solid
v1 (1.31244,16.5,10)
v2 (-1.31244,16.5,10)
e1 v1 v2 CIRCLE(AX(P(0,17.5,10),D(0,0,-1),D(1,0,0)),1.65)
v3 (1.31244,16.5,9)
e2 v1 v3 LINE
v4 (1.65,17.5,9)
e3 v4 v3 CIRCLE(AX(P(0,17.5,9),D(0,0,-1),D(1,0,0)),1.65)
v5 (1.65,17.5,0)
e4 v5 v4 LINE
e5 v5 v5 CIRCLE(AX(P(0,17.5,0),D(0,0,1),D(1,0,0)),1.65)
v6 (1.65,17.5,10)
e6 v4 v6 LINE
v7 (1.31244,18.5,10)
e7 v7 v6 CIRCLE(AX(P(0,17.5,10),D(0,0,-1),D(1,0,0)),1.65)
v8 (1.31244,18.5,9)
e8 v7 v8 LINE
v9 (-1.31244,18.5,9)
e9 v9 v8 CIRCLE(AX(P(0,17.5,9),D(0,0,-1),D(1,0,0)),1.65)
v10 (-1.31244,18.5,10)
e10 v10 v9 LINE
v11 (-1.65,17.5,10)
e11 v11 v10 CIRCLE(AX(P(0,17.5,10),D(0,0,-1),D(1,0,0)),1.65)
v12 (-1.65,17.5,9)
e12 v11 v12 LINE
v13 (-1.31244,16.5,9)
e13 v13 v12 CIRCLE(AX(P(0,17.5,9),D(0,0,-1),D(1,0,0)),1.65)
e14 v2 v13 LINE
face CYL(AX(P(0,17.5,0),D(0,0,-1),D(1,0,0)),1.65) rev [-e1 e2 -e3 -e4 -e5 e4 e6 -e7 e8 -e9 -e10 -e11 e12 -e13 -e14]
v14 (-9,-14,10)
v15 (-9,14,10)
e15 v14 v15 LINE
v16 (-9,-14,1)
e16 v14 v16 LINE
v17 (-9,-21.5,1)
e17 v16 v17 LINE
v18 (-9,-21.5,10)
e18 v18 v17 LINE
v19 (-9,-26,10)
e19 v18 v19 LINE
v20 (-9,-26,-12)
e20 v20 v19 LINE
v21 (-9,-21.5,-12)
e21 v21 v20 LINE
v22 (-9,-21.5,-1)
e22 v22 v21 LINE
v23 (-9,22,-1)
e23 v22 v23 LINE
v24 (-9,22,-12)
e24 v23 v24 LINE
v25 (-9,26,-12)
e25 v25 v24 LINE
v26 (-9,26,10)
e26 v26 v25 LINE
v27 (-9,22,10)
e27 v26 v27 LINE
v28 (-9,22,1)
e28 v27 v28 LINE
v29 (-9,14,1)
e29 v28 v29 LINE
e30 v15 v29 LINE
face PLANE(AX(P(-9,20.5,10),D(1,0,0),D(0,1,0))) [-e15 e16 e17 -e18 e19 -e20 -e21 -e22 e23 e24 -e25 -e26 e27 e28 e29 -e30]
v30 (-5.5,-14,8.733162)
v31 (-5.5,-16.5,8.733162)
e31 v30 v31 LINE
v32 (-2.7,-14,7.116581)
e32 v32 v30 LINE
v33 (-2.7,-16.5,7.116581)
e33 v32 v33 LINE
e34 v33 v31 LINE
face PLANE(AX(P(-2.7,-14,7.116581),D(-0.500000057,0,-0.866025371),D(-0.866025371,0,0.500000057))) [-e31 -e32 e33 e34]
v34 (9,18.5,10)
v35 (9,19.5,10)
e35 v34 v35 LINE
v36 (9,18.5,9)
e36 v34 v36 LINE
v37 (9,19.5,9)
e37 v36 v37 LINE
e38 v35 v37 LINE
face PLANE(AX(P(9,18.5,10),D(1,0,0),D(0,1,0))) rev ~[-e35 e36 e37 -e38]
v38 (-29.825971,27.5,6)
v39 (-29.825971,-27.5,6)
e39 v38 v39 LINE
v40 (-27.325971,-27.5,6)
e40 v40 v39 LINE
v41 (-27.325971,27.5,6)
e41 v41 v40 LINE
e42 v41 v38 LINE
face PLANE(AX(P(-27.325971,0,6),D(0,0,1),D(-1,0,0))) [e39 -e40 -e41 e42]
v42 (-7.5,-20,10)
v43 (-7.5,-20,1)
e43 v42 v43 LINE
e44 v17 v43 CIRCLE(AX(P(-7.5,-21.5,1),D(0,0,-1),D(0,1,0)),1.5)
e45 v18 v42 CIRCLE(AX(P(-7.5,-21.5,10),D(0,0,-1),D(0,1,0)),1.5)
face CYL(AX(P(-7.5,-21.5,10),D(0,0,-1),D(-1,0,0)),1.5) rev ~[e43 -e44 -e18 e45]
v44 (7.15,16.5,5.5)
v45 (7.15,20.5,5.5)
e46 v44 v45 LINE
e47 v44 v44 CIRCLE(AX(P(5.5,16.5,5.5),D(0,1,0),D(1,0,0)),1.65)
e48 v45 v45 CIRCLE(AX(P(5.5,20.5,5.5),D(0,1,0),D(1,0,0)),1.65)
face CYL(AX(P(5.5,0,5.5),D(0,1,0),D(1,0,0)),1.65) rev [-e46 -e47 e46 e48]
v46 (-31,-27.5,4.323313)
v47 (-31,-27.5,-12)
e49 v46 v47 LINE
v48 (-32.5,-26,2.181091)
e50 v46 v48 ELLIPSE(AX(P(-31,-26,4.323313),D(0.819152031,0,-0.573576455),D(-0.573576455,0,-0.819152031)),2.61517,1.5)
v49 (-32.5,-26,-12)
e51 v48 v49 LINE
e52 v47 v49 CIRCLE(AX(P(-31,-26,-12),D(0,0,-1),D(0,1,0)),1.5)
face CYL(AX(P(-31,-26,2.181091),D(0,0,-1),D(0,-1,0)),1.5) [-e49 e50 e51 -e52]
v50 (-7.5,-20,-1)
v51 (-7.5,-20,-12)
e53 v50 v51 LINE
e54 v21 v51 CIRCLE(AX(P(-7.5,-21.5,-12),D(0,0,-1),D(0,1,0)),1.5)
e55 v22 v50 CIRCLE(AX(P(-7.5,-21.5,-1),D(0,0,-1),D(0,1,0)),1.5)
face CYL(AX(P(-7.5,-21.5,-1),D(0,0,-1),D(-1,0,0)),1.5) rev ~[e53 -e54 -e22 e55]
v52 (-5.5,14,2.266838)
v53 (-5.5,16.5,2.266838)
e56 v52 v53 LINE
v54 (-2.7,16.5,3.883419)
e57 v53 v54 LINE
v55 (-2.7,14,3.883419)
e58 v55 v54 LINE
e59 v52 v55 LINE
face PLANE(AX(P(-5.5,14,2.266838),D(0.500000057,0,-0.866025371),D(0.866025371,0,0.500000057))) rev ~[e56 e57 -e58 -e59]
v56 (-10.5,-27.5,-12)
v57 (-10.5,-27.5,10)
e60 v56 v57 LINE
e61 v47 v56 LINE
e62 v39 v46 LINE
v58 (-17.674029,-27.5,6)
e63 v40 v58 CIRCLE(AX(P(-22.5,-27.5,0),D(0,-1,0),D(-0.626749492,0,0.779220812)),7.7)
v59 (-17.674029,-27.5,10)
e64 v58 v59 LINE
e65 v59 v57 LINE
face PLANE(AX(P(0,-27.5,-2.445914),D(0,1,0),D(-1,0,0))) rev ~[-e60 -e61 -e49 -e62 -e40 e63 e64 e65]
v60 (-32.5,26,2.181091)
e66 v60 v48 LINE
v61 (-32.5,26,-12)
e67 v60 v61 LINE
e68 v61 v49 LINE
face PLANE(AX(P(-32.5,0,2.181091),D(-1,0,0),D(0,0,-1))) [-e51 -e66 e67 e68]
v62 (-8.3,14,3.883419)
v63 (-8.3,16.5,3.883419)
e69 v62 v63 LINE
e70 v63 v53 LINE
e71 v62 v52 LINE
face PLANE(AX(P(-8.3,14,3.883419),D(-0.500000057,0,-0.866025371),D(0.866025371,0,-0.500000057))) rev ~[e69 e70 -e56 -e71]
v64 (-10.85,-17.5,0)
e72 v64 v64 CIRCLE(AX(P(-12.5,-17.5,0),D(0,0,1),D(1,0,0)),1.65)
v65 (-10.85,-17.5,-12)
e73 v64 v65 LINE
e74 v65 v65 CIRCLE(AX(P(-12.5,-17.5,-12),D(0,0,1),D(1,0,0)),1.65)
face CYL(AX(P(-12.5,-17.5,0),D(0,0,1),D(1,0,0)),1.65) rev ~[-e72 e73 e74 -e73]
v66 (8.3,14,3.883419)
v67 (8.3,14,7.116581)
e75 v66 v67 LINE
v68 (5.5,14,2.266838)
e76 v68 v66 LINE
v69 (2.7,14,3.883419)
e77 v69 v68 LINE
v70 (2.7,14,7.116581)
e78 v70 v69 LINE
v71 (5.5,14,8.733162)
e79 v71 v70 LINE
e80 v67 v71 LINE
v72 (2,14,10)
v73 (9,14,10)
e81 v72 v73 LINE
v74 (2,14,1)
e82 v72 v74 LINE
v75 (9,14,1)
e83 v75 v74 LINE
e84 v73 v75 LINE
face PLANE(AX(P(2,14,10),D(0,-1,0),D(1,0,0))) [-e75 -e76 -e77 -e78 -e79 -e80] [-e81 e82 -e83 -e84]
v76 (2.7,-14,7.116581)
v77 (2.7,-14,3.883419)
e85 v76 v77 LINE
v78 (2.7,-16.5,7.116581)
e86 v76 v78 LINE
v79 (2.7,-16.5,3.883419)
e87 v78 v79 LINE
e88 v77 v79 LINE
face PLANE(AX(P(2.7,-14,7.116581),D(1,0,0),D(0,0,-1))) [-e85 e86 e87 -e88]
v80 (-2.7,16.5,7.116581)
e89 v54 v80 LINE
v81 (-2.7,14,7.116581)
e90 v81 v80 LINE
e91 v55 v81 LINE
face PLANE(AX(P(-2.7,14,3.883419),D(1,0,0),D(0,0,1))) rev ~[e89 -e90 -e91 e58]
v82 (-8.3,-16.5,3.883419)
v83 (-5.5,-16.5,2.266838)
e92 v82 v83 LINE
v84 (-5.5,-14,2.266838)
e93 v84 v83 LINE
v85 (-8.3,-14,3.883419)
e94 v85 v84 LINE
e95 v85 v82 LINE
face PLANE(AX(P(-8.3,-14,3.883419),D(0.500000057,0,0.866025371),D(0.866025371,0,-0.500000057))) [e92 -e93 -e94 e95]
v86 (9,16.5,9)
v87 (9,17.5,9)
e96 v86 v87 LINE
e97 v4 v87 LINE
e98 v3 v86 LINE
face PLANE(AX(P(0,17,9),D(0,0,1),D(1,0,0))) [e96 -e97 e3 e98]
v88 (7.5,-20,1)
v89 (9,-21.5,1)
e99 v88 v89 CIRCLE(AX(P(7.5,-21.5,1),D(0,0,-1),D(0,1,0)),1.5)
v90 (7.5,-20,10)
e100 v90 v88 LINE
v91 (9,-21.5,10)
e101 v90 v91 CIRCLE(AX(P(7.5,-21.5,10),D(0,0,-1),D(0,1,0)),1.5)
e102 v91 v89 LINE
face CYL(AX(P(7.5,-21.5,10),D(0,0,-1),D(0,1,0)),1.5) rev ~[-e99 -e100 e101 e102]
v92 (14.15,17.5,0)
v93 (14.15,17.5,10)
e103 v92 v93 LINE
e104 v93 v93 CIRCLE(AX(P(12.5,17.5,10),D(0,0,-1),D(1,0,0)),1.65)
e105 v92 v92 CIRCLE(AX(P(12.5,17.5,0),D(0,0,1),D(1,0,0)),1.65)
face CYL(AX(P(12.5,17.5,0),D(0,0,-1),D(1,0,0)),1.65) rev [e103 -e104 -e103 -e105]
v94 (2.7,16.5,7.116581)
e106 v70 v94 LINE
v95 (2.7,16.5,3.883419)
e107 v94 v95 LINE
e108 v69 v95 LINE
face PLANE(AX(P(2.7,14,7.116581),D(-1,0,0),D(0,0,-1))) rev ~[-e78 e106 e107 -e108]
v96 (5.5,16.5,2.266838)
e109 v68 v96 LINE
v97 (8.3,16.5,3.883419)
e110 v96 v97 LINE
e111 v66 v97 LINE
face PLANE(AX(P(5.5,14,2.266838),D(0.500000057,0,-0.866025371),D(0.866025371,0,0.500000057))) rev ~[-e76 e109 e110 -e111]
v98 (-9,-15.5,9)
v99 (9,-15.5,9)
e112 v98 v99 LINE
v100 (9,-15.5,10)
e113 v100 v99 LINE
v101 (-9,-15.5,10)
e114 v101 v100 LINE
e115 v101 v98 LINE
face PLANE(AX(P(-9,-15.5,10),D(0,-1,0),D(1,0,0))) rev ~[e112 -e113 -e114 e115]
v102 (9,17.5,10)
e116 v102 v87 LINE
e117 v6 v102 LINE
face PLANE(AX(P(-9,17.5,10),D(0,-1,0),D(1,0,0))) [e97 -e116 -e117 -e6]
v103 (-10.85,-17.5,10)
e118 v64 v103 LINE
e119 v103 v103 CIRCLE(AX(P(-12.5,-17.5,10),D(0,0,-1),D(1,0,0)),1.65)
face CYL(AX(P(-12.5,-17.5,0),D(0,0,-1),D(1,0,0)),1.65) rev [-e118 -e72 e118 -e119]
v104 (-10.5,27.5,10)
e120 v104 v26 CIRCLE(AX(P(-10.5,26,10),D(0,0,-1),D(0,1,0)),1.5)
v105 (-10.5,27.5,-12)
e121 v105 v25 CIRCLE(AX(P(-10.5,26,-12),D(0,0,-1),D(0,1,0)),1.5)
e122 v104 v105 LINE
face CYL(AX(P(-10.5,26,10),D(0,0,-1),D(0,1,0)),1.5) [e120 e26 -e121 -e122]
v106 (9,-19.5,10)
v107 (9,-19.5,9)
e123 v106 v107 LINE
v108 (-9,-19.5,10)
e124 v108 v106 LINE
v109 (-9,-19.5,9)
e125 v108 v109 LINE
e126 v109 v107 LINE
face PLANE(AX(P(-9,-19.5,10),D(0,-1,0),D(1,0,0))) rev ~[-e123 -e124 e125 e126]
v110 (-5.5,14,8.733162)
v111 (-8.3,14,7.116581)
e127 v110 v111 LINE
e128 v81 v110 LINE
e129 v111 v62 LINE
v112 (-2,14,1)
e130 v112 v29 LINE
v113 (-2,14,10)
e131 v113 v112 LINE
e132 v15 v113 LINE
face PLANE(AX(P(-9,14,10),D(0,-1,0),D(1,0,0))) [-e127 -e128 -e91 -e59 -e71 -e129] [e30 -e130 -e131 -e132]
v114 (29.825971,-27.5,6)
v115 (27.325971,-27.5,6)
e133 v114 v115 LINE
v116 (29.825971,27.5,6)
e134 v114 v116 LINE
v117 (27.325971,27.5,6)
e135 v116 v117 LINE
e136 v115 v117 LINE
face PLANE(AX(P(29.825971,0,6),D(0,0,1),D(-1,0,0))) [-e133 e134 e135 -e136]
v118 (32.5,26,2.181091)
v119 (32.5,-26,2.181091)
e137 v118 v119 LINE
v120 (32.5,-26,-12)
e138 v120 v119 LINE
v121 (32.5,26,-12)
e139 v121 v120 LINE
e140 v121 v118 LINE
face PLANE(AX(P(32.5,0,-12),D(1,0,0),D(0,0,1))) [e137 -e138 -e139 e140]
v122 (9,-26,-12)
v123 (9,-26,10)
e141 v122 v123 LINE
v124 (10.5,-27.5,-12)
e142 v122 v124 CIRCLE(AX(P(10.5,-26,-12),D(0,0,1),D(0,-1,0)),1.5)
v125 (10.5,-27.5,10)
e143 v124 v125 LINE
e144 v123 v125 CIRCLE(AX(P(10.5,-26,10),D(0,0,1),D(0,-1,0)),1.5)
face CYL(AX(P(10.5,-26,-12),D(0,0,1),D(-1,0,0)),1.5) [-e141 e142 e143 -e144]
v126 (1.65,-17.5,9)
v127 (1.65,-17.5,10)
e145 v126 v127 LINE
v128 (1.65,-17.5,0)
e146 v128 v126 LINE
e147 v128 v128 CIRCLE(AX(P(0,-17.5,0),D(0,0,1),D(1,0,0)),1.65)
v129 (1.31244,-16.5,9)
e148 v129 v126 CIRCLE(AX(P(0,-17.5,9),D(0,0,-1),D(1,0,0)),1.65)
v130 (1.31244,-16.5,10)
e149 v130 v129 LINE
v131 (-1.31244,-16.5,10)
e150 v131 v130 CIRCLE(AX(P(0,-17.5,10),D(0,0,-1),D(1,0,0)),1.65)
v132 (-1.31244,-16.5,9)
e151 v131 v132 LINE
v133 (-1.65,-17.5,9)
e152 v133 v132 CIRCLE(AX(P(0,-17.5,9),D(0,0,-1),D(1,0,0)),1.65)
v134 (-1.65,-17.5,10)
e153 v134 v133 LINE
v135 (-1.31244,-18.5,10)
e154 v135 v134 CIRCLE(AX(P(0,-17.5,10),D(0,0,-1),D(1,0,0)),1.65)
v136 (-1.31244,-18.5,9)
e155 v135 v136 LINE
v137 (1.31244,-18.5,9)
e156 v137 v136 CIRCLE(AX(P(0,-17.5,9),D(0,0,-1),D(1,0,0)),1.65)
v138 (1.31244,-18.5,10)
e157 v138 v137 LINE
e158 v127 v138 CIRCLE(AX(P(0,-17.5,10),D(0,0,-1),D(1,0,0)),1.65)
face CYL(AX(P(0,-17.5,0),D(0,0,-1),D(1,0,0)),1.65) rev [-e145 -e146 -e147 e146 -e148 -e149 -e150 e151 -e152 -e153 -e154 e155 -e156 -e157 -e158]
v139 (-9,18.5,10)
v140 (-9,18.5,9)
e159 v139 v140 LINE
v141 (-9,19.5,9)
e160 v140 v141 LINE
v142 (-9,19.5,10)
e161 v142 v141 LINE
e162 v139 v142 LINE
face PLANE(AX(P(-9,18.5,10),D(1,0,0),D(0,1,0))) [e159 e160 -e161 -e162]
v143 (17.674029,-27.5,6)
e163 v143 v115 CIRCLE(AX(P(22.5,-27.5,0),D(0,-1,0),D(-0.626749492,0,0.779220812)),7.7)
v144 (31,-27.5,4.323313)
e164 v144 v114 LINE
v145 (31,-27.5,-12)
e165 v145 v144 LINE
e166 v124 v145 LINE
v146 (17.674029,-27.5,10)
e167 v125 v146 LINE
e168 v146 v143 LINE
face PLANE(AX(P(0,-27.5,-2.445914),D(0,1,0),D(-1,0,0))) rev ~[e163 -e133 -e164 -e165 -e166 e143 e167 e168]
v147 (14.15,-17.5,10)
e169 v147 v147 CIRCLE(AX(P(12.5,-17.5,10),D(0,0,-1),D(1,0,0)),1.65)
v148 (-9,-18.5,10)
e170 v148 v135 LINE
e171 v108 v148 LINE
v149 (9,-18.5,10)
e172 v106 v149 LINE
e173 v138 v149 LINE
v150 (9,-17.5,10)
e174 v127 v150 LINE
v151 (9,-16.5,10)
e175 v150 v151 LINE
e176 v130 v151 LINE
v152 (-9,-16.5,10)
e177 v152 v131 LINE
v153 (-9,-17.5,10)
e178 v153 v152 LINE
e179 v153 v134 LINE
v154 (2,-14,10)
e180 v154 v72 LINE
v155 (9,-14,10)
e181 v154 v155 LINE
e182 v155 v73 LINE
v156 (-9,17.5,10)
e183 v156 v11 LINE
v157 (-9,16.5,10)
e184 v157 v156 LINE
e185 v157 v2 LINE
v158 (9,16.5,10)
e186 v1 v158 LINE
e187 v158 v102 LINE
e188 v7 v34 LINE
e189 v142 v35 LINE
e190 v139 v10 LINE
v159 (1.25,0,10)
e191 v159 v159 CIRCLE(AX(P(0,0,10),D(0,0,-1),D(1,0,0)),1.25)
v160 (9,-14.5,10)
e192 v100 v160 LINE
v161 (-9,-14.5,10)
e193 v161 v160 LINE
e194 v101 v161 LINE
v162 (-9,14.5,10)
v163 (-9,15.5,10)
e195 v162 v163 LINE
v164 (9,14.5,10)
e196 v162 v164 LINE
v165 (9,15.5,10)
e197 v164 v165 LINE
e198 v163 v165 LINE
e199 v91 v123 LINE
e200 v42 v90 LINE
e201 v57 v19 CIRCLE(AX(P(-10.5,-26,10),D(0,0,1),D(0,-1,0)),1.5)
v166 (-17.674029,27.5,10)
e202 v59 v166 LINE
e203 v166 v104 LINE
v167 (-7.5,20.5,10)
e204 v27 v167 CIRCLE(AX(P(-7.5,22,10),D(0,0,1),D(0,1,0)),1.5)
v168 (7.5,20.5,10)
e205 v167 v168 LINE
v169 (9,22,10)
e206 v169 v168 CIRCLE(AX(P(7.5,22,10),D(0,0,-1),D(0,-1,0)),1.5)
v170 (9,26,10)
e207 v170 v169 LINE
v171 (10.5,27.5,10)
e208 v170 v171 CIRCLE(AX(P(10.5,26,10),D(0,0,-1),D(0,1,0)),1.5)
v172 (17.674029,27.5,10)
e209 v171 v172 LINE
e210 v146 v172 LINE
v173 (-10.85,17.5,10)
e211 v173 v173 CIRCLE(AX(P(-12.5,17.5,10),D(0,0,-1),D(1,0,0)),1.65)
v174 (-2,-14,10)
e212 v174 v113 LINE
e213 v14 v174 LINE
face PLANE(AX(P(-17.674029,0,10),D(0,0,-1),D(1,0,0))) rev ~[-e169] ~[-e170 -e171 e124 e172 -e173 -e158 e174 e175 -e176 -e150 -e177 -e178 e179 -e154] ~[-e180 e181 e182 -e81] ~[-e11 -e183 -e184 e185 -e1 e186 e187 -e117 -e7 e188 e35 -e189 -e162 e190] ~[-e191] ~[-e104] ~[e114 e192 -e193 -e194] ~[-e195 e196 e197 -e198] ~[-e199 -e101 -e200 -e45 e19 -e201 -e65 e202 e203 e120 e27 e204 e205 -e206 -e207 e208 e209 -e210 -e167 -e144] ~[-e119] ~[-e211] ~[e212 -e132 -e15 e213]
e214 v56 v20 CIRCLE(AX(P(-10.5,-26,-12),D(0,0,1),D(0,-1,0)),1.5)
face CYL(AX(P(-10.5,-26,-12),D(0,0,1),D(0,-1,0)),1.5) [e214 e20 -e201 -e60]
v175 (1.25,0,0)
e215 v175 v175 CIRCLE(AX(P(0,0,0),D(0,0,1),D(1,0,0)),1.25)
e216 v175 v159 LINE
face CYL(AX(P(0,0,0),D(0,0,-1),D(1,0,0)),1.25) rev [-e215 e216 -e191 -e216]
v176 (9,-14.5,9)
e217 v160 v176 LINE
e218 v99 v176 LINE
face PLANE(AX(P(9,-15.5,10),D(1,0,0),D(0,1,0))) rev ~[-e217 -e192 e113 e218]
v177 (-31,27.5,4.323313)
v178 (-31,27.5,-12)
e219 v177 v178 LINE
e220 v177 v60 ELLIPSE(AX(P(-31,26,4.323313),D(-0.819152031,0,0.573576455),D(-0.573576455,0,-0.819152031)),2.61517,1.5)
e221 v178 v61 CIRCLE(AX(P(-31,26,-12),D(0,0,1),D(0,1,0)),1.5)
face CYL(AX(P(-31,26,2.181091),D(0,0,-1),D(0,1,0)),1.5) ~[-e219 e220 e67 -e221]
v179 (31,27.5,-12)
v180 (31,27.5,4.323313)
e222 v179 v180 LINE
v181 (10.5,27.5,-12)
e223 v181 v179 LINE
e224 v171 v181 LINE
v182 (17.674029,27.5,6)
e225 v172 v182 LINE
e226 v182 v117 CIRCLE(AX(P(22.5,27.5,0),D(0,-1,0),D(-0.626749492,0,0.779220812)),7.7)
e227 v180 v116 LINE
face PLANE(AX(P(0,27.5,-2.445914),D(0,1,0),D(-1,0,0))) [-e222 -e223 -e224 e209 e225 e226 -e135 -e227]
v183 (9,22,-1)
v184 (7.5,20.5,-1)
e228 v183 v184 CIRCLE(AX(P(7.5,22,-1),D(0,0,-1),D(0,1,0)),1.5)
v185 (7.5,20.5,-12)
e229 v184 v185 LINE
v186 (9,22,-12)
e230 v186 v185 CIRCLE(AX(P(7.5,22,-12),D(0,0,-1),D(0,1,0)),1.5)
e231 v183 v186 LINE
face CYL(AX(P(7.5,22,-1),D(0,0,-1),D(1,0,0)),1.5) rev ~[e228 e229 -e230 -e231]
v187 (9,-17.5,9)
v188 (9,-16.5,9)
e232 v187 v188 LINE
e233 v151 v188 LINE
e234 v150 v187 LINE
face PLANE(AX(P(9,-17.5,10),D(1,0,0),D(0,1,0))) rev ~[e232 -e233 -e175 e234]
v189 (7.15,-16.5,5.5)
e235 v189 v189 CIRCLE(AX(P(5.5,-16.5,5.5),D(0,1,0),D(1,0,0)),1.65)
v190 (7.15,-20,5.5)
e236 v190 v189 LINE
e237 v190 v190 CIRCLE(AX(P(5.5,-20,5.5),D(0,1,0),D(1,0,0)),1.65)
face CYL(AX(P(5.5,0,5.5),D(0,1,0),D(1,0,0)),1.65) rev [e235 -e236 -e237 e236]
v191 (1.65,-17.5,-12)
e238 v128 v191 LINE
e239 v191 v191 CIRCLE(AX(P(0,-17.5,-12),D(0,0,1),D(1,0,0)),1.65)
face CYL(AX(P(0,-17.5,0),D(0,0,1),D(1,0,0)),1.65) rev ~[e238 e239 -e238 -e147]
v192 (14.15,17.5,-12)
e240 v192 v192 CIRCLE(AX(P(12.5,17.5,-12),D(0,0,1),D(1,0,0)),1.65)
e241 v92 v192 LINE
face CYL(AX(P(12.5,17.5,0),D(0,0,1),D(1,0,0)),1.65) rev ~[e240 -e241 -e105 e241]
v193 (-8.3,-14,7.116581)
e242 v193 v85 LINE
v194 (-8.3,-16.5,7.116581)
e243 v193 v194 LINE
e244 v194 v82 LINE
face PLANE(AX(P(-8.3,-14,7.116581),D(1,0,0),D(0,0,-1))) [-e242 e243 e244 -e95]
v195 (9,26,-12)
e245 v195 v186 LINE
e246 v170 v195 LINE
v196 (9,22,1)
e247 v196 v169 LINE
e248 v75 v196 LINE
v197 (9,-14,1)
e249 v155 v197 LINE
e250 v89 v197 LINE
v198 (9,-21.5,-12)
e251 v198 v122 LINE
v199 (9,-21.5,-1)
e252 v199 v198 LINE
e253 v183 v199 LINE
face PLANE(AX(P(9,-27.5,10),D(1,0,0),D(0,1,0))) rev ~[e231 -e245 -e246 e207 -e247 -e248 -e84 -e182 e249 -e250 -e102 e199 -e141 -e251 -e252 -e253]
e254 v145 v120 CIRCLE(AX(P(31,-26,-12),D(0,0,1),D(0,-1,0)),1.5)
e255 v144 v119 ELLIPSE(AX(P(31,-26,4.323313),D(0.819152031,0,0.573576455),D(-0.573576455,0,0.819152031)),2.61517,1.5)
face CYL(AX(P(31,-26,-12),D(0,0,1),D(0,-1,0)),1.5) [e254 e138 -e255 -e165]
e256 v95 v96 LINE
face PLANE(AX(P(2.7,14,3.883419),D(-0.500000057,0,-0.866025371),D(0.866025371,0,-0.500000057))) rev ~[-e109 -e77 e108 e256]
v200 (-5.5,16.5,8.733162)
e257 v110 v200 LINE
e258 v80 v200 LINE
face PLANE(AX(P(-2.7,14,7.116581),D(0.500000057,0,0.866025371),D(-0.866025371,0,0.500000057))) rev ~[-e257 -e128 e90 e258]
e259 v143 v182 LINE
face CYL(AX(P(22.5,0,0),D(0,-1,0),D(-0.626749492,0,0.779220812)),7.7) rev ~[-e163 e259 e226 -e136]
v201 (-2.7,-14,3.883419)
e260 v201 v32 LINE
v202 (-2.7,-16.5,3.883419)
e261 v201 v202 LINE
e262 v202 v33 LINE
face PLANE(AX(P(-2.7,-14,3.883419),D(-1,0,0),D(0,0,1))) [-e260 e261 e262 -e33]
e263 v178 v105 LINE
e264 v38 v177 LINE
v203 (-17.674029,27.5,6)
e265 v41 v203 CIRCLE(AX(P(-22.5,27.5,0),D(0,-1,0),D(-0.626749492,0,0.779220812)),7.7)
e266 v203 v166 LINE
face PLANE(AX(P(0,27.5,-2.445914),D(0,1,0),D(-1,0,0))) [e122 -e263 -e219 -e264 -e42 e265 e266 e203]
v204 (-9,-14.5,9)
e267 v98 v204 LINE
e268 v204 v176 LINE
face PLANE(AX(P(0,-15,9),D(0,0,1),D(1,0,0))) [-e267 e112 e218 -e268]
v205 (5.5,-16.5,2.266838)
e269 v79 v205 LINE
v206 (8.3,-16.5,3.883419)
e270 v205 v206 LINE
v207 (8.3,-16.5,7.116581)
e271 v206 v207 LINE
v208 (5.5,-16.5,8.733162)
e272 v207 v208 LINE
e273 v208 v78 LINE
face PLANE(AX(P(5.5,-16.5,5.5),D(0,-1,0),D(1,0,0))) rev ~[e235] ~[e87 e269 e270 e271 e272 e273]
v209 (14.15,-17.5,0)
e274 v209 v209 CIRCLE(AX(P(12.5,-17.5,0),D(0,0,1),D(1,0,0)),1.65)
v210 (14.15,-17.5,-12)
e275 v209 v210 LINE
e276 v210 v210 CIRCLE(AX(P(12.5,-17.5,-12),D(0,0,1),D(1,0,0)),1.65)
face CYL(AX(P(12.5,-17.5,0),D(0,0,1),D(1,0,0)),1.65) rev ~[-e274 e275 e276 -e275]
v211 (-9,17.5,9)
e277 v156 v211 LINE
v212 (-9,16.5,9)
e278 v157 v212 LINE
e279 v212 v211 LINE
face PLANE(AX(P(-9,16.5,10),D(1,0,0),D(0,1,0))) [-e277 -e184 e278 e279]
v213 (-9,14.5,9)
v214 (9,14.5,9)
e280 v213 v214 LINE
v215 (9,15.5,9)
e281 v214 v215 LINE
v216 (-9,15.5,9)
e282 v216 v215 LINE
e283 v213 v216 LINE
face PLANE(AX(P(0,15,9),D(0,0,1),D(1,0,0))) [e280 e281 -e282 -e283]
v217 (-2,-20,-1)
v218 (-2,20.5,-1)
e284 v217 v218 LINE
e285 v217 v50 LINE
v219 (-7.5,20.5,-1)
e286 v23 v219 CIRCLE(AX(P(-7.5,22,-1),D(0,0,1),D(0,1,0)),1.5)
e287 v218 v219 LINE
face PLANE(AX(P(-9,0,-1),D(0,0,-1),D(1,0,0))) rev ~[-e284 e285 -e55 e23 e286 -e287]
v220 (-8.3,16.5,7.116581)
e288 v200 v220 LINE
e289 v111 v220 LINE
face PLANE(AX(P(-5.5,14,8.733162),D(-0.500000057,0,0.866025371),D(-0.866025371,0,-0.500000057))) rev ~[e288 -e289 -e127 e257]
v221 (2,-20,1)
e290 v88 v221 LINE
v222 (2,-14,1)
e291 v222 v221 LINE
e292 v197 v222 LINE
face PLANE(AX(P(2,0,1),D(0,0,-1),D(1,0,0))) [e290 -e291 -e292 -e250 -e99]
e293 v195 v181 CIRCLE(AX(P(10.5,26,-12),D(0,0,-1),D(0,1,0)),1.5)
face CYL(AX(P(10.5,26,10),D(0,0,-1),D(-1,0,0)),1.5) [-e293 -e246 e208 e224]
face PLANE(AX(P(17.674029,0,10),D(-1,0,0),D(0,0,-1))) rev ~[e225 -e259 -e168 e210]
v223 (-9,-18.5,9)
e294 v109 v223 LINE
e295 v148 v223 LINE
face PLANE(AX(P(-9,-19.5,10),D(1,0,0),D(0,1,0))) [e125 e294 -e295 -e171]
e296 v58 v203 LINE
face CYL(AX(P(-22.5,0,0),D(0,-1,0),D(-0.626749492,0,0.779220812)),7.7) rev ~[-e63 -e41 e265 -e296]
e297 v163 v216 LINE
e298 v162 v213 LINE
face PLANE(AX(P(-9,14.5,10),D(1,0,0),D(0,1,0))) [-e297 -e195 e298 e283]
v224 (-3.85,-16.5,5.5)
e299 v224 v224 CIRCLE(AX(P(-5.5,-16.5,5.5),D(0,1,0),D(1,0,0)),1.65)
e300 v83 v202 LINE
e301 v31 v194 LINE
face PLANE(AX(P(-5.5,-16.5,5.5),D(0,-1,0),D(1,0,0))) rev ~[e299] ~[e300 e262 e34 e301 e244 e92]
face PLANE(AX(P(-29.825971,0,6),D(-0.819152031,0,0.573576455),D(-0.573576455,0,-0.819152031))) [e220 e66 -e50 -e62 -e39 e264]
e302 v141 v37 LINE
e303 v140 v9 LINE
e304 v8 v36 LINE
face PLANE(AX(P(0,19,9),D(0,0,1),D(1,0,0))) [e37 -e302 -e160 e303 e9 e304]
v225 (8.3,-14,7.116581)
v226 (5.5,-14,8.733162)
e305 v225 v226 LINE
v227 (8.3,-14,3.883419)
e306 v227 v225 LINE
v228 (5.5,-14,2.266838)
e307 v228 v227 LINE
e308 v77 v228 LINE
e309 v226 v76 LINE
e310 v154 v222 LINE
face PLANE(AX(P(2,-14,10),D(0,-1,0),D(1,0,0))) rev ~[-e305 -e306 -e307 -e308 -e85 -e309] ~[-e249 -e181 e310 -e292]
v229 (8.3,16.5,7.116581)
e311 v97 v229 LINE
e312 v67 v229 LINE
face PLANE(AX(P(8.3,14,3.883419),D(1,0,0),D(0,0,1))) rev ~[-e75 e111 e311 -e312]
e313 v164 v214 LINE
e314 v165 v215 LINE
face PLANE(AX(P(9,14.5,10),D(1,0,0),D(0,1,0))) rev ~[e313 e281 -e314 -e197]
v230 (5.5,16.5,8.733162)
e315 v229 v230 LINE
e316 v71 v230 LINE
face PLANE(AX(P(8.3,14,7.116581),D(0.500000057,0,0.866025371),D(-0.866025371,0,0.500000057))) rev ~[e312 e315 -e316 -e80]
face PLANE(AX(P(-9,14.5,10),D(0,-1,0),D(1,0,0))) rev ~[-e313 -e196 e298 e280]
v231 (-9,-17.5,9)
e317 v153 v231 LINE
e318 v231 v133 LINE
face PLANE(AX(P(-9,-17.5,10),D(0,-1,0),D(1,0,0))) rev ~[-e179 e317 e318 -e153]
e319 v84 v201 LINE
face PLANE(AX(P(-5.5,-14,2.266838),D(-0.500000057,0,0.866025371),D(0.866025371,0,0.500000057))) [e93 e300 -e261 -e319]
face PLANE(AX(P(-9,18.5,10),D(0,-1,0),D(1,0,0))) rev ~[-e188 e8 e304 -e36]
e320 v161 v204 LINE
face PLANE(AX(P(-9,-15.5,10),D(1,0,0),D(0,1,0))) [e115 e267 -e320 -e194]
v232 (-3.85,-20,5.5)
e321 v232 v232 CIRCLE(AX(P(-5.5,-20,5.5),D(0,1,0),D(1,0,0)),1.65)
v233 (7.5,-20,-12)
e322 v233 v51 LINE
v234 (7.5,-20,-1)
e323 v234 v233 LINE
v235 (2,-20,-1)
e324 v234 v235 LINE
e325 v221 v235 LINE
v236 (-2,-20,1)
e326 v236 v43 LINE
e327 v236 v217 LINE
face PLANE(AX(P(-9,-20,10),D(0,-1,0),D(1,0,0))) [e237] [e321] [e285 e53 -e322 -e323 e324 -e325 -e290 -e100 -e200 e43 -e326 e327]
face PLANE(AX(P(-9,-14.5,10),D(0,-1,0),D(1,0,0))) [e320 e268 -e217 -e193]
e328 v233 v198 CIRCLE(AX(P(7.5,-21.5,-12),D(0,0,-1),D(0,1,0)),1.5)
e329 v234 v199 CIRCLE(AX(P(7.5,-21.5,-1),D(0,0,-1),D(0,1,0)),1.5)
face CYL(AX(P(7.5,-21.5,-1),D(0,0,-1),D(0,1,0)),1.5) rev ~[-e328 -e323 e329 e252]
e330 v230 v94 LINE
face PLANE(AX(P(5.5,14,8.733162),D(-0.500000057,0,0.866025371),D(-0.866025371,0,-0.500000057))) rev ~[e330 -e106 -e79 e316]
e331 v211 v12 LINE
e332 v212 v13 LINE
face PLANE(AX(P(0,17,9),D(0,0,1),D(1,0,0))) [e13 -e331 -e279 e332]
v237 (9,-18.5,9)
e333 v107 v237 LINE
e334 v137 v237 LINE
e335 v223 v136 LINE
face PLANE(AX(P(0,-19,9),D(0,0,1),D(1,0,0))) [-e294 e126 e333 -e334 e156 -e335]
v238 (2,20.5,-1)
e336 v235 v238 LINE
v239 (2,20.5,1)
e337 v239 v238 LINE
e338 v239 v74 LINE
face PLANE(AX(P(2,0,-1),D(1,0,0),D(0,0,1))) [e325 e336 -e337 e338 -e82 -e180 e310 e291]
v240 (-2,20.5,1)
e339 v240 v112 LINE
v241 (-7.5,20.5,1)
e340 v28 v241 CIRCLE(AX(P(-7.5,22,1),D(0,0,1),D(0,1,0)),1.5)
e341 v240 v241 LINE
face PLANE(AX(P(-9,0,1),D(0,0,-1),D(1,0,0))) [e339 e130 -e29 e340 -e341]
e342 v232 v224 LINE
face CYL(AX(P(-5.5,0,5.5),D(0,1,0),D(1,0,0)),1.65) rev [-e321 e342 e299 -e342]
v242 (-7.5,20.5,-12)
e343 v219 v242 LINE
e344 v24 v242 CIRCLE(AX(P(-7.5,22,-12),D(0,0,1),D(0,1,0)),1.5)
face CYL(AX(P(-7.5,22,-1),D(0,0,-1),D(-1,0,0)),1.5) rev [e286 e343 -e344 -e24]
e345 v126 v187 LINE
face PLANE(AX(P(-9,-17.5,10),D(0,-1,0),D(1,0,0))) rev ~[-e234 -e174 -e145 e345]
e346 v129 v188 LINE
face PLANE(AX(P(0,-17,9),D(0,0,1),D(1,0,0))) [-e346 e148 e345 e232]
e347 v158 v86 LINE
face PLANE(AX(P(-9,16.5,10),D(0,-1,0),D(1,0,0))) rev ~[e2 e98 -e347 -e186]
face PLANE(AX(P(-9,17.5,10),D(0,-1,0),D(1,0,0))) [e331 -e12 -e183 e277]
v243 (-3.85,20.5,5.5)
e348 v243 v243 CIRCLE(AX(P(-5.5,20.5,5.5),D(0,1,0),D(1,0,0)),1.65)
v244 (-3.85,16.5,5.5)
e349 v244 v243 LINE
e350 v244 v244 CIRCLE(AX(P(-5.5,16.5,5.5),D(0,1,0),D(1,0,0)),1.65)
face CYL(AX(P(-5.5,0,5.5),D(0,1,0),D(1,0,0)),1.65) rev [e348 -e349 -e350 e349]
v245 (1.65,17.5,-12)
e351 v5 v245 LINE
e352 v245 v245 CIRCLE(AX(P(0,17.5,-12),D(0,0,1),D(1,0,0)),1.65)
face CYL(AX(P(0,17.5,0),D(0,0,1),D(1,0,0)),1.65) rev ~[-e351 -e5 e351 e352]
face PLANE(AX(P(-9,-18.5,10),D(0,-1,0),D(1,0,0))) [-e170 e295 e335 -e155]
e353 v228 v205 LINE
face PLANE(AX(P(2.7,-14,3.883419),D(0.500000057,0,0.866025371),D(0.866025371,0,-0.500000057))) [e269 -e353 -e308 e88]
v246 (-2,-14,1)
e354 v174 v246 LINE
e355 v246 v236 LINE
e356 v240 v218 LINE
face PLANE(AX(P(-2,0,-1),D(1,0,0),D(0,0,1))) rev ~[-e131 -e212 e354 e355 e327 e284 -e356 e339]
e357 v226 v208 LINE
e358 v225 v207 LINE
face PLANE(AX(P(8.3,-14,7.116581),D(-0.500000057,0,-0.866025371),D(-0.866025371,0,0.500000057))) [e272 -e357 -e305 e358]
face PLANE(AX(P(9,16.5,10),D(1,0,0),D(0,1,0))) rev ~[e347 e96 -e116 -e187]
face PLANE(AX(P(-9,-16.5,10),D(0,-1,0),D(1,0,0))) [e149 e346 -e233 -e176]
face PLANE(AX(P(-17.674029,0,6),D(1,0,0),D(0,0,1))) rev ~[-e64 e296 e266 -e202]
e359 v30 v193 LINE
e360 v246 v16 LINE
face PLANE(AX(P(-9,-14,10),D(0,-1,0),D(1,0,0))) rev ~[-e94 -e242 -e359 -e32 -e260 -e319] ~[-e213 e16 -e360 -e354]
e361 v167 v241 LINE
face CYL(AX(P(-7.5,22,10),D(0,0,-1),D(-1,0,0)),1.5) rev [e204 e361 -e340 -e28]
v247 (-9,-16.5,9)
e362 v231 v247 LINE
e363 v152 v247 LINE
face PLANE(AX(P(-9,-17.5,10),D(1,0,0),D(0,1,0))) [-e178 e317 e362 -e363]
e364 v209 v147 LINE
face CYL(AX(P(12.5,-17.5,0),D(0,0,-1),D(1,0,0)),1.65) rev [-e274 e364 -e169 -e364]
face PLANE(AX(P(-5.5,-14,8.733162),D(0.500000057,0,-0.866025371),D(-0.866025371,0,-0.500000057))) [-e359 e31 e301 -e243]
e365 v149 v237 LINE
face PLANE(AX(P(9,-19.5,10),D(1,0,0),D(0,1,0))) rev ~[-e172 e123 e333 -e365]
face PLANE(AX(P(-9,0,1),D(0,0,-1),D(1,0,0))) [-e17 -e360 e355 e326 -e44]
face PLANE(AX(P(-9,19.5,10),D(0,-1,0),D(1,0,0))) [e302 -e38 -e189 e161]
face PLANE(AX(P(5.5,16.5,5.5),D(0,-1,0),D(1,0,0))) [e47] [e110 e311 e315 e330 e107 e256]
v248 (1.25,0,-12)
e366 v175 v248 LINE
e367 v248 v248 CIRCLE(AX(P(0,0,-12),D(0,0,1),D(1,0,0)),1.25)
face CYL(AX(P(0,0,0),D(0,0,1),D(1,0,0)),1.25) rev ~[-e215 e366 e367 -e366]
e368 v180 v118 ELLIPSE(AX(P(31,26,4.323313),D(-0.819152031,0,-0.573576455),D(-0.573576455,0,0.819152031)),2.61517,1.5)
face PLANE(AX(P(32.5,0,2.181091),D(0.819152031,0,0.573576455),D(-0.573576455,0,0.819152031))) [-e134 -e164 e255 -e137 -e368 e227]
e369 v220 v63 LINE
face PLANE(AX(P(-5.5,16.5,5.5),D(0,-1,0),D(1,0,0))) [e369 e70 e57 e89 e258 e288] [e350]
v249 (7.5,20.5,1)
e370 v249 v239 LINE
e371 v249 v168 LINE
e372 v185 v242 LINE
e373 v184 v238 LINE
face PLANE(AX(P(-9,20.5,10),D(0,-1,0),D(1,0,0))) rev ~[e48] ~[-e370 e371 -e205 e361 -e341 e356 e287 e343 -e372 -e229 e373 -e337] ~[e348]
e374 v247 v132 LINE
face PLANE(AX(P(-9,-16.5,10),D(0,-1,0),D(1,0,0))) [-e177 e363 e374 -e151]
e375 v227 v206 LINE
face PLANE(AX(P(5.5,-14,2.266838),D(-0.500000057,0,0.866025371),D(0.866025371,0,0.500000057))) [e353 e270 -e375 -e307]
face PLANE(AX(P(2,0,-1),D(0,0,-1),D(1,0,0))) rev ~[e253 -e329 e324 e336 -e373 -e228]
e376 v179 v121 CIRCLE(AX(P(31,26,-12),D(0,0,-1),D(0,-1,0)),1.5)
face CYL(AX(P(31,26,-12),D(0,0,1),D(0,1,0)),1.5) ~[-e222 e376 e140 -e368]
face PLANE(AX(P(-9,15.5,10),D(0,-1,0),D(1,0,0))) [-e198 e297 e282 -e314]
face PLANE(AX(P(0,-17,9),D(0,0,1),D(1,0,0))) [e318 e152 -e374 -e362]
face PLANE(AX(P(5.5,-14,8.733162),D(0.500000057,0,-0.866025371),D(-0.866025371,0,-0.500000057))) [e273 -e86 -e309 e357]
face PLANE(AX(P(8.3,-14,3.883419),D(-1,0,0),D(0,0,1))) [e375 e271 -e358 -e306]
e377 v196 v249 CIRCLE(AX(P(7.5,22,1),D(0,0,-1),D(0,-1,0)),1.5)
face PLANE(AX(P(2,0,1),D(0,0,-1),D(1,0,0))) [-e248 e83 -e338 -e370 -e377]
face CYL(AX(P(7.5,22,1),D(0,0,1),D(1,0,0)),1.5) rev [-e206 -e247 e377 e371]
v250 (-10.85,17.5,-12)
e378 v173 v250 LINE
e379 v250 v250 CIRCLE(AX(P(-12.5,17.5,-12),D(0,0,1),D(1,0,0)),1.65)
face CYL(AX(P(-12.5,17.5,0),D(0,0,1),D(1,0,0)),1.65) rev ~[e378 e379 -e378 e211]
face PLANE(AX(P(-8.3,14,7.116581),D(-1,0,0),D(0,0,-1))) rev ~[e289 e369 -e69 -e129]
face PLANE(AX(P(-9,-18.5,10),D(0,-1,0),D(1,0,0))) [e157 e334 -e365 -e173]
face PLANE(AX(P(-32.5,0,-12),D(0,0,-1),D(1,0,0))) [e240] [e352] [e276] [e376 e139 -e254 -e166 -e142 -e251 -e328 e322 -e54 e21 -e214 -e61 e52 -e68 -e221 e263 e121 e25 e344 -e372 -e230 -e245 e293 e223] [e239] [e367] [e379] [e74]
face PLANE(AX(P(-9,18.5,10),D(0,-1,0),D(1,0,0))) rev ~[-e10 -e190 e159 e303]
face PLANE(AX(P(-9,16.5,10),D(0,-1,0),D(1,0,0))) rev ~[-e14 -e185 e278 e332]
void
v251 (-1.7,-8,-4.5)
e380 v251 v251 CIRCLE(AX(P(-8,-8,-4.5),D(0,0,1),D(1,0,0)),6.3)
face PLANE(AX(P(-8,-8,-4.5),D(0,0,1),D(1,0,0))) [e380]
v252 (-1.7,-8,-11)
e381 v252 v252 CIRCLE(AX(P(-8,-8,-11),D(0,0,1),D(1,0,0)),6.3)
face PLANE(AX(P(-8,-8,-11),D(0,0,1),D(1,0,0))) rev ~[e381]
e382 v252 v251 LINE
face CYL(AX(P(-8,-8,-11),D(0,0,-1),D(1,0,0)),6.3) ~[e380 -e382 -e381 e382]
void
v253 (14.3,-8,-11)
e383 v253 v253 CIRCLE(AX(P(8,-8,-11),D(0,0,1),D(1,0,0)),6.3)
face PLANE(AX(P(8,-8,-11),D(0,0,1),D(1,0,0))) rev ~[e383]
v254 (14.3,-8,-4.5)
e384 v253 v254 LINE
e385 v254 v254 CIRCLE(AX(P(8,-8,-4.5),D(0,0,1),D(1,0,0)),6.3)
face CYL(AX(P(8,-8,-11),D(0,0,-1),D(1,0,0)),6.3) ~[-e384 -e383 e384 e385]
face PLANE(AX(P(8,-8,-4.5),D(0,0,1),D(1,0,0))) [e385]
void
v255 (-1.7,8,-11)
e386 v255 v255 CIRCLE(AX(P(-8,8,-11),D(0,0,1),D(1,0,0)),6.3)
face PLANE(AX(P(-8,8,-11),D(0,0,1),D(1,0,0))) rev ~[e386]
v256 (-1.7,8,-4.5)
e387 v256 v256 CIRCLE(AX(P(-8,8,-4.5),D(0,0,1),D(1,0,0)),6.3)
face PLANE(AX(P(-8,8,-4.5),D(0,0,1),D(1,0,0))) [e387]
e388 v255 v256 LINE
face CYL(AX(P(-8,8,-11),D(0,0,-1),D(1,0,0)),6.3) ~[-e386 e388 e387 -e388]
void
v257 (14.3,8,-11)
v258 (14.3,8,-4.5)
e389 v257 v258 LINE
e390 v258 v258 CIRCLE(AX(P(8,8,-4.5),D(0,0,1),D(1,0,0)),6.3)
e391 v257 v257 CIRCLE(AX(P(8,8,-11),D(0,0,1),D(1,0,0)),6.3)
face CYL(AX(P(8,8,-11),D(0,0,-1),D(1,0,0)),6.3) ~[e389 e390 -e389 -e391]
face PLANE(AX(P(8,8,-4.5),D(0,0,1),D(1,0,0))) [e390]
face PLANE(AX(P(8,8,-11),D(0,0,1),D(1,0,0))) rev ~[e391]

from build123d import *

# Parameters (mm, degrees)
SKETCH_R             = 1.65
SKETCH_W             = 7
SKETCH_H             = 2
PAD_DEPTH            = 27.5
SKETCH001_R          = 1.65
POCKET_DEPTH         = 12.001
POCKET_DEPTH_BACK    = -10.001
SKETCH002_R          = 6.3
POCKET001_DEPTH      = 6.5
SKETCH003_W          = 7
SKETCH003_H          = 28
POCKET002_DEPTH      = 10
SKETCH004_W          = 18
SKETCH004_H          = 1
POCKET003_DEPTH      = 1
POCKET004_DEPTH      = 2.5
POCKET005_DEPTH      = 2.5
SKETCH007_W          = 18
SKETCH007_H          = 7
SKETCH007_H_2        = 7.5
POCKET006_DEPTH      = 22.001
SKETCH008_R          = 1.25
POCKET007_DEPTH      = 12.001
POCKET007_DEPTH_BACK = -10.001
FILLET_R             = 1.5


with BuildPart() as part:
    # Sketch → Pad (new body, symmetric)
    with BuildSketch(Plane.XZ):
        with BuildLine():
            ThreePointArc((-27.325971, 6), (-22.5, -7.7), (-17.674029, 6))
            Line((-17.674029, 6), (-17.674029, 10))
            Line((-17.674029, 10), (17.674029, 10))
            Line((17.674029, 10), (17.674029, 6))
            ThreePointArc((17.674029, 6), (22.5, -7.7), (27.325971, 6))
            Line((29.825971, 6), (27.325971, 6))
            Line((32.5, 2.181091), (29.825971, 6))
            Line((32.5, -12), (32.5, 2.181091))
            Line((-32.5, -12), (32.5, -12))
            Line((-32.5, 2.181091), (-32.5, -12))
            Line((-29.825971, 6), (-32.5, 2.181091))
            Line((-27.325971, 6), (-29.825971, 6))
        make_face()
        with Locations((-5.5, 5.5)):
            Circle(SKETCH_R, mode=Mode.SUBTRACT)
        with Locations((5.5, 5.5)):
            Circle(SKETCH_R, mode=Mode.SUBTRACT)
        with Locations((-5.5, 0)):
            Rectangle(SKETCH_W, SKETCH_H, mode=Mode.SUBTRACT)
        with Locations((5.5, 0)):
            Rectangle(SKETCH_W, SKETCH_H, mode=Mode.SUBTRACT)
    extrude(amount=PAD_DEPTH, both=True)

    # Sketch001 → Pocket (cut, two sides)
    with BuildSketch(Plane.XY) as pocket_sk:
        with Locations((-12.5, 17.5)):
            Circle(SKETCH001_R)
        with Locations((12.5, 17.5)):
            Circle(SKETCH001_R)
        with Locations((-12.5, -17.5)):
            Circle(SKETCH001_R)
        with Locations((12.5, -17.5)):
            Circle(SKETCH001_R)
        with Locations((0, 17.5)):
            Circle(SKETCH001_R)
        with Locations((0, -17.5)):
            Circle(SKETCH001_R)
    extrude(amount=-POCKET_DEPTH, mode=Mode.SUBTRACT)
    extrude(pocket_sk.sketch, amount=-POCKET_DEPTH_BACK, mode=Mode.SUBTRACT)

    # Sketch002 (on DatumPlane) → Pocket001 (cut)
    with BuildSketch(Plane.XY.offset(-11)):
        with Locations((-8, 8)):
            Circle(SKETCH002_R)
        with Locations((8, 8)):
            Circle(SKETCH002_R)
        with Locations((8, -8)):
            Circle(SKETCH002_R)
        with Locations((-8, -8)):
            Circle(SKETCH002_R)
    extrude(amount=POCKET001_DEPTH, mode=Mode.SUBTRACT)

    # Sketch003 (on DatumPlane) → Pocket002 (cut)
    with BuildSketch(Plane.XY.offset(10)):
        with Locations((-5.5, 0)):
            Rectangle(SKETCH003_W, SKETCH003_H)
        with Locations((5.5, 0)):
            Rectangle(SKETCH003_W, SKETCH003_H)
    extrude(amount=-POCKET002_DEPTH, mode=Mode.SUBTRACT)

    # Sketch004 (on DatumPlane) → Pocket003 (cut)
    with BuildSketch(Plane.XY.offset(10)):
        with Locations((0, 15)):
            Rectangle(SKETCH004_W, SKETCH004_H)
        with Locations((0, 17)):
            Rectangle(SKETCH004_W, SKETCH004_H)
        with Locations((0, 19)):
            Rectangle(SKETCH004_W, SKETCH004_H)
        with Locations((0, 21)):
            Rectangle(SKETCH004_W, SKETCH004_H)
        with Locations((0, 23)):
            Rectangle(SKETCH004_W, SKETCH004_H)
        with Locations((0, 25)):
            Rectangle(SKETCH004_W, SKETCH004_H)
        with Locations((0, 27)):
            Rectangle(SKETCH004_W, SKETCH004_H)
        with Locations((0, -27)):
            Rectangle(SKETCH004_W, SKETCH004_H)
        with Locations((0, -25)):
            Rectangle(SKETCH004_W, SKETCH004_H)
        with Locations((0, -23)):
            Rectangle(SKETCH004_W, SKETCH004_H)
        with Locations((0, -21)):
            Rectangle(SKETCH004_W, SKETCH004_H)
        with Locations((0, -19)):
            Rectangle(SKETCH004_W, SKETCH004_H)
        with Locations((0, -17)):
            Rectangle(SKETCH004_W, SKETCH004_H)
        with Locations((0, -15)):
            Rectangle(SKETCH004_W, SKETCH004_H)
    extrude(amount=-POCKET003_DEPTH, mode=Mode.SUBTRACT)

    # Sketch005 (on DatumPlane) → Pocket004 (cut)
    with BuildSketch(Plane.XZ.offset(14)):
        Polygon((-5.5, 2.266838), (-2.7, 3.883419), (-2.7, 7.116581), (-5.5, 8.733162), (-8.3, 7.116581), (-8.3, 3.883419), align=None)
        Polygon((8.3, 3.883419), (8.3, 7.116581), (5.5, 8.733162), (2.7, 7.116581), (2.7, 3.883419), (5.5, 2.266838), align=None)
    extrude(amount=POCKET004_DEPTH, mode=Mode.SUBTRACT)

    # Sketch006 (on DatumPlane) → Pocket005 (cut)
    with BuildSketch(Plane.XZ.offset(-14)):
        Polygon((-2.7, 3.883419), (-2.7, 7.116581), (-5.5, 8.733162), (-8.3, 7.116581), (-8.3, 3.883419), (-5.5, 2.266838), align=None)
        Polygon((8.3, 3.883419), (8.3, 7.116581), (5.5, 8.733162), (2.7, 7.116581), (2.7, 3.883419), (5.5, 2.266838), align=None)
    extrude(amount=-POCKET005_DEPTH, mode=Mode.SUBTRACT)

    # Sketch007 (on DatumPlane) → Pocket006 (cut, through all)
    with BuildSketch(Plane.XY.offset(10)):
        with Locations((0, 24)):
            Rectangle(SKETCH007_W, SKETCH007_H)
        with Locations((0, -23.75)):
            Rectangle(SKETCH007_W, SKETCH007_H_2)
    extrude(amount=-POCKET006_DEPTH, mode=Mode.SUBTRACT)

    # Sketch008 → Pocket007 (cut, two sides)
    with BuildSketch(Plane.XY) as pocket007_sk:
        Circle(SKETCH008_R)
    extrude(amount=-POCKET007_DEPTH, mode=Mode.SUBTRACT)
    extrude(pocket007_sk.sketch, amount=-POCKET007_DEPTH_BACK, mode=Mode.SUBTRACT)

    # Fillet
    fillet_edges = [part.edges().sort_by_distance(p)[0] for p in [
        (-9, -20, 5.5),
        (-9, -20, -6.5),
        (9, -20, 5.5),
        (9, -20, -6.5),
        (-9, -27.5, -1),
        (9, -27.5, -1),
        (9, 20.5, 5.5),
        (9, 20.5, -6.5),
        (9, 27.5, -1),
        (-9, 20.5, 5.5),
        (-9, 20.5, -6.5),
        (-9, 27.5, -1),
        (32.5, 27.5, -4.909454),
        (-32.5, 27.5, -4.909454),
        (-32.5, -27.5, -4.909454),
        (32.5, -27.5, -4.909454),
    ]]
    fillet(fillet_edges, radius=FILLET_R)


solid = part.part
